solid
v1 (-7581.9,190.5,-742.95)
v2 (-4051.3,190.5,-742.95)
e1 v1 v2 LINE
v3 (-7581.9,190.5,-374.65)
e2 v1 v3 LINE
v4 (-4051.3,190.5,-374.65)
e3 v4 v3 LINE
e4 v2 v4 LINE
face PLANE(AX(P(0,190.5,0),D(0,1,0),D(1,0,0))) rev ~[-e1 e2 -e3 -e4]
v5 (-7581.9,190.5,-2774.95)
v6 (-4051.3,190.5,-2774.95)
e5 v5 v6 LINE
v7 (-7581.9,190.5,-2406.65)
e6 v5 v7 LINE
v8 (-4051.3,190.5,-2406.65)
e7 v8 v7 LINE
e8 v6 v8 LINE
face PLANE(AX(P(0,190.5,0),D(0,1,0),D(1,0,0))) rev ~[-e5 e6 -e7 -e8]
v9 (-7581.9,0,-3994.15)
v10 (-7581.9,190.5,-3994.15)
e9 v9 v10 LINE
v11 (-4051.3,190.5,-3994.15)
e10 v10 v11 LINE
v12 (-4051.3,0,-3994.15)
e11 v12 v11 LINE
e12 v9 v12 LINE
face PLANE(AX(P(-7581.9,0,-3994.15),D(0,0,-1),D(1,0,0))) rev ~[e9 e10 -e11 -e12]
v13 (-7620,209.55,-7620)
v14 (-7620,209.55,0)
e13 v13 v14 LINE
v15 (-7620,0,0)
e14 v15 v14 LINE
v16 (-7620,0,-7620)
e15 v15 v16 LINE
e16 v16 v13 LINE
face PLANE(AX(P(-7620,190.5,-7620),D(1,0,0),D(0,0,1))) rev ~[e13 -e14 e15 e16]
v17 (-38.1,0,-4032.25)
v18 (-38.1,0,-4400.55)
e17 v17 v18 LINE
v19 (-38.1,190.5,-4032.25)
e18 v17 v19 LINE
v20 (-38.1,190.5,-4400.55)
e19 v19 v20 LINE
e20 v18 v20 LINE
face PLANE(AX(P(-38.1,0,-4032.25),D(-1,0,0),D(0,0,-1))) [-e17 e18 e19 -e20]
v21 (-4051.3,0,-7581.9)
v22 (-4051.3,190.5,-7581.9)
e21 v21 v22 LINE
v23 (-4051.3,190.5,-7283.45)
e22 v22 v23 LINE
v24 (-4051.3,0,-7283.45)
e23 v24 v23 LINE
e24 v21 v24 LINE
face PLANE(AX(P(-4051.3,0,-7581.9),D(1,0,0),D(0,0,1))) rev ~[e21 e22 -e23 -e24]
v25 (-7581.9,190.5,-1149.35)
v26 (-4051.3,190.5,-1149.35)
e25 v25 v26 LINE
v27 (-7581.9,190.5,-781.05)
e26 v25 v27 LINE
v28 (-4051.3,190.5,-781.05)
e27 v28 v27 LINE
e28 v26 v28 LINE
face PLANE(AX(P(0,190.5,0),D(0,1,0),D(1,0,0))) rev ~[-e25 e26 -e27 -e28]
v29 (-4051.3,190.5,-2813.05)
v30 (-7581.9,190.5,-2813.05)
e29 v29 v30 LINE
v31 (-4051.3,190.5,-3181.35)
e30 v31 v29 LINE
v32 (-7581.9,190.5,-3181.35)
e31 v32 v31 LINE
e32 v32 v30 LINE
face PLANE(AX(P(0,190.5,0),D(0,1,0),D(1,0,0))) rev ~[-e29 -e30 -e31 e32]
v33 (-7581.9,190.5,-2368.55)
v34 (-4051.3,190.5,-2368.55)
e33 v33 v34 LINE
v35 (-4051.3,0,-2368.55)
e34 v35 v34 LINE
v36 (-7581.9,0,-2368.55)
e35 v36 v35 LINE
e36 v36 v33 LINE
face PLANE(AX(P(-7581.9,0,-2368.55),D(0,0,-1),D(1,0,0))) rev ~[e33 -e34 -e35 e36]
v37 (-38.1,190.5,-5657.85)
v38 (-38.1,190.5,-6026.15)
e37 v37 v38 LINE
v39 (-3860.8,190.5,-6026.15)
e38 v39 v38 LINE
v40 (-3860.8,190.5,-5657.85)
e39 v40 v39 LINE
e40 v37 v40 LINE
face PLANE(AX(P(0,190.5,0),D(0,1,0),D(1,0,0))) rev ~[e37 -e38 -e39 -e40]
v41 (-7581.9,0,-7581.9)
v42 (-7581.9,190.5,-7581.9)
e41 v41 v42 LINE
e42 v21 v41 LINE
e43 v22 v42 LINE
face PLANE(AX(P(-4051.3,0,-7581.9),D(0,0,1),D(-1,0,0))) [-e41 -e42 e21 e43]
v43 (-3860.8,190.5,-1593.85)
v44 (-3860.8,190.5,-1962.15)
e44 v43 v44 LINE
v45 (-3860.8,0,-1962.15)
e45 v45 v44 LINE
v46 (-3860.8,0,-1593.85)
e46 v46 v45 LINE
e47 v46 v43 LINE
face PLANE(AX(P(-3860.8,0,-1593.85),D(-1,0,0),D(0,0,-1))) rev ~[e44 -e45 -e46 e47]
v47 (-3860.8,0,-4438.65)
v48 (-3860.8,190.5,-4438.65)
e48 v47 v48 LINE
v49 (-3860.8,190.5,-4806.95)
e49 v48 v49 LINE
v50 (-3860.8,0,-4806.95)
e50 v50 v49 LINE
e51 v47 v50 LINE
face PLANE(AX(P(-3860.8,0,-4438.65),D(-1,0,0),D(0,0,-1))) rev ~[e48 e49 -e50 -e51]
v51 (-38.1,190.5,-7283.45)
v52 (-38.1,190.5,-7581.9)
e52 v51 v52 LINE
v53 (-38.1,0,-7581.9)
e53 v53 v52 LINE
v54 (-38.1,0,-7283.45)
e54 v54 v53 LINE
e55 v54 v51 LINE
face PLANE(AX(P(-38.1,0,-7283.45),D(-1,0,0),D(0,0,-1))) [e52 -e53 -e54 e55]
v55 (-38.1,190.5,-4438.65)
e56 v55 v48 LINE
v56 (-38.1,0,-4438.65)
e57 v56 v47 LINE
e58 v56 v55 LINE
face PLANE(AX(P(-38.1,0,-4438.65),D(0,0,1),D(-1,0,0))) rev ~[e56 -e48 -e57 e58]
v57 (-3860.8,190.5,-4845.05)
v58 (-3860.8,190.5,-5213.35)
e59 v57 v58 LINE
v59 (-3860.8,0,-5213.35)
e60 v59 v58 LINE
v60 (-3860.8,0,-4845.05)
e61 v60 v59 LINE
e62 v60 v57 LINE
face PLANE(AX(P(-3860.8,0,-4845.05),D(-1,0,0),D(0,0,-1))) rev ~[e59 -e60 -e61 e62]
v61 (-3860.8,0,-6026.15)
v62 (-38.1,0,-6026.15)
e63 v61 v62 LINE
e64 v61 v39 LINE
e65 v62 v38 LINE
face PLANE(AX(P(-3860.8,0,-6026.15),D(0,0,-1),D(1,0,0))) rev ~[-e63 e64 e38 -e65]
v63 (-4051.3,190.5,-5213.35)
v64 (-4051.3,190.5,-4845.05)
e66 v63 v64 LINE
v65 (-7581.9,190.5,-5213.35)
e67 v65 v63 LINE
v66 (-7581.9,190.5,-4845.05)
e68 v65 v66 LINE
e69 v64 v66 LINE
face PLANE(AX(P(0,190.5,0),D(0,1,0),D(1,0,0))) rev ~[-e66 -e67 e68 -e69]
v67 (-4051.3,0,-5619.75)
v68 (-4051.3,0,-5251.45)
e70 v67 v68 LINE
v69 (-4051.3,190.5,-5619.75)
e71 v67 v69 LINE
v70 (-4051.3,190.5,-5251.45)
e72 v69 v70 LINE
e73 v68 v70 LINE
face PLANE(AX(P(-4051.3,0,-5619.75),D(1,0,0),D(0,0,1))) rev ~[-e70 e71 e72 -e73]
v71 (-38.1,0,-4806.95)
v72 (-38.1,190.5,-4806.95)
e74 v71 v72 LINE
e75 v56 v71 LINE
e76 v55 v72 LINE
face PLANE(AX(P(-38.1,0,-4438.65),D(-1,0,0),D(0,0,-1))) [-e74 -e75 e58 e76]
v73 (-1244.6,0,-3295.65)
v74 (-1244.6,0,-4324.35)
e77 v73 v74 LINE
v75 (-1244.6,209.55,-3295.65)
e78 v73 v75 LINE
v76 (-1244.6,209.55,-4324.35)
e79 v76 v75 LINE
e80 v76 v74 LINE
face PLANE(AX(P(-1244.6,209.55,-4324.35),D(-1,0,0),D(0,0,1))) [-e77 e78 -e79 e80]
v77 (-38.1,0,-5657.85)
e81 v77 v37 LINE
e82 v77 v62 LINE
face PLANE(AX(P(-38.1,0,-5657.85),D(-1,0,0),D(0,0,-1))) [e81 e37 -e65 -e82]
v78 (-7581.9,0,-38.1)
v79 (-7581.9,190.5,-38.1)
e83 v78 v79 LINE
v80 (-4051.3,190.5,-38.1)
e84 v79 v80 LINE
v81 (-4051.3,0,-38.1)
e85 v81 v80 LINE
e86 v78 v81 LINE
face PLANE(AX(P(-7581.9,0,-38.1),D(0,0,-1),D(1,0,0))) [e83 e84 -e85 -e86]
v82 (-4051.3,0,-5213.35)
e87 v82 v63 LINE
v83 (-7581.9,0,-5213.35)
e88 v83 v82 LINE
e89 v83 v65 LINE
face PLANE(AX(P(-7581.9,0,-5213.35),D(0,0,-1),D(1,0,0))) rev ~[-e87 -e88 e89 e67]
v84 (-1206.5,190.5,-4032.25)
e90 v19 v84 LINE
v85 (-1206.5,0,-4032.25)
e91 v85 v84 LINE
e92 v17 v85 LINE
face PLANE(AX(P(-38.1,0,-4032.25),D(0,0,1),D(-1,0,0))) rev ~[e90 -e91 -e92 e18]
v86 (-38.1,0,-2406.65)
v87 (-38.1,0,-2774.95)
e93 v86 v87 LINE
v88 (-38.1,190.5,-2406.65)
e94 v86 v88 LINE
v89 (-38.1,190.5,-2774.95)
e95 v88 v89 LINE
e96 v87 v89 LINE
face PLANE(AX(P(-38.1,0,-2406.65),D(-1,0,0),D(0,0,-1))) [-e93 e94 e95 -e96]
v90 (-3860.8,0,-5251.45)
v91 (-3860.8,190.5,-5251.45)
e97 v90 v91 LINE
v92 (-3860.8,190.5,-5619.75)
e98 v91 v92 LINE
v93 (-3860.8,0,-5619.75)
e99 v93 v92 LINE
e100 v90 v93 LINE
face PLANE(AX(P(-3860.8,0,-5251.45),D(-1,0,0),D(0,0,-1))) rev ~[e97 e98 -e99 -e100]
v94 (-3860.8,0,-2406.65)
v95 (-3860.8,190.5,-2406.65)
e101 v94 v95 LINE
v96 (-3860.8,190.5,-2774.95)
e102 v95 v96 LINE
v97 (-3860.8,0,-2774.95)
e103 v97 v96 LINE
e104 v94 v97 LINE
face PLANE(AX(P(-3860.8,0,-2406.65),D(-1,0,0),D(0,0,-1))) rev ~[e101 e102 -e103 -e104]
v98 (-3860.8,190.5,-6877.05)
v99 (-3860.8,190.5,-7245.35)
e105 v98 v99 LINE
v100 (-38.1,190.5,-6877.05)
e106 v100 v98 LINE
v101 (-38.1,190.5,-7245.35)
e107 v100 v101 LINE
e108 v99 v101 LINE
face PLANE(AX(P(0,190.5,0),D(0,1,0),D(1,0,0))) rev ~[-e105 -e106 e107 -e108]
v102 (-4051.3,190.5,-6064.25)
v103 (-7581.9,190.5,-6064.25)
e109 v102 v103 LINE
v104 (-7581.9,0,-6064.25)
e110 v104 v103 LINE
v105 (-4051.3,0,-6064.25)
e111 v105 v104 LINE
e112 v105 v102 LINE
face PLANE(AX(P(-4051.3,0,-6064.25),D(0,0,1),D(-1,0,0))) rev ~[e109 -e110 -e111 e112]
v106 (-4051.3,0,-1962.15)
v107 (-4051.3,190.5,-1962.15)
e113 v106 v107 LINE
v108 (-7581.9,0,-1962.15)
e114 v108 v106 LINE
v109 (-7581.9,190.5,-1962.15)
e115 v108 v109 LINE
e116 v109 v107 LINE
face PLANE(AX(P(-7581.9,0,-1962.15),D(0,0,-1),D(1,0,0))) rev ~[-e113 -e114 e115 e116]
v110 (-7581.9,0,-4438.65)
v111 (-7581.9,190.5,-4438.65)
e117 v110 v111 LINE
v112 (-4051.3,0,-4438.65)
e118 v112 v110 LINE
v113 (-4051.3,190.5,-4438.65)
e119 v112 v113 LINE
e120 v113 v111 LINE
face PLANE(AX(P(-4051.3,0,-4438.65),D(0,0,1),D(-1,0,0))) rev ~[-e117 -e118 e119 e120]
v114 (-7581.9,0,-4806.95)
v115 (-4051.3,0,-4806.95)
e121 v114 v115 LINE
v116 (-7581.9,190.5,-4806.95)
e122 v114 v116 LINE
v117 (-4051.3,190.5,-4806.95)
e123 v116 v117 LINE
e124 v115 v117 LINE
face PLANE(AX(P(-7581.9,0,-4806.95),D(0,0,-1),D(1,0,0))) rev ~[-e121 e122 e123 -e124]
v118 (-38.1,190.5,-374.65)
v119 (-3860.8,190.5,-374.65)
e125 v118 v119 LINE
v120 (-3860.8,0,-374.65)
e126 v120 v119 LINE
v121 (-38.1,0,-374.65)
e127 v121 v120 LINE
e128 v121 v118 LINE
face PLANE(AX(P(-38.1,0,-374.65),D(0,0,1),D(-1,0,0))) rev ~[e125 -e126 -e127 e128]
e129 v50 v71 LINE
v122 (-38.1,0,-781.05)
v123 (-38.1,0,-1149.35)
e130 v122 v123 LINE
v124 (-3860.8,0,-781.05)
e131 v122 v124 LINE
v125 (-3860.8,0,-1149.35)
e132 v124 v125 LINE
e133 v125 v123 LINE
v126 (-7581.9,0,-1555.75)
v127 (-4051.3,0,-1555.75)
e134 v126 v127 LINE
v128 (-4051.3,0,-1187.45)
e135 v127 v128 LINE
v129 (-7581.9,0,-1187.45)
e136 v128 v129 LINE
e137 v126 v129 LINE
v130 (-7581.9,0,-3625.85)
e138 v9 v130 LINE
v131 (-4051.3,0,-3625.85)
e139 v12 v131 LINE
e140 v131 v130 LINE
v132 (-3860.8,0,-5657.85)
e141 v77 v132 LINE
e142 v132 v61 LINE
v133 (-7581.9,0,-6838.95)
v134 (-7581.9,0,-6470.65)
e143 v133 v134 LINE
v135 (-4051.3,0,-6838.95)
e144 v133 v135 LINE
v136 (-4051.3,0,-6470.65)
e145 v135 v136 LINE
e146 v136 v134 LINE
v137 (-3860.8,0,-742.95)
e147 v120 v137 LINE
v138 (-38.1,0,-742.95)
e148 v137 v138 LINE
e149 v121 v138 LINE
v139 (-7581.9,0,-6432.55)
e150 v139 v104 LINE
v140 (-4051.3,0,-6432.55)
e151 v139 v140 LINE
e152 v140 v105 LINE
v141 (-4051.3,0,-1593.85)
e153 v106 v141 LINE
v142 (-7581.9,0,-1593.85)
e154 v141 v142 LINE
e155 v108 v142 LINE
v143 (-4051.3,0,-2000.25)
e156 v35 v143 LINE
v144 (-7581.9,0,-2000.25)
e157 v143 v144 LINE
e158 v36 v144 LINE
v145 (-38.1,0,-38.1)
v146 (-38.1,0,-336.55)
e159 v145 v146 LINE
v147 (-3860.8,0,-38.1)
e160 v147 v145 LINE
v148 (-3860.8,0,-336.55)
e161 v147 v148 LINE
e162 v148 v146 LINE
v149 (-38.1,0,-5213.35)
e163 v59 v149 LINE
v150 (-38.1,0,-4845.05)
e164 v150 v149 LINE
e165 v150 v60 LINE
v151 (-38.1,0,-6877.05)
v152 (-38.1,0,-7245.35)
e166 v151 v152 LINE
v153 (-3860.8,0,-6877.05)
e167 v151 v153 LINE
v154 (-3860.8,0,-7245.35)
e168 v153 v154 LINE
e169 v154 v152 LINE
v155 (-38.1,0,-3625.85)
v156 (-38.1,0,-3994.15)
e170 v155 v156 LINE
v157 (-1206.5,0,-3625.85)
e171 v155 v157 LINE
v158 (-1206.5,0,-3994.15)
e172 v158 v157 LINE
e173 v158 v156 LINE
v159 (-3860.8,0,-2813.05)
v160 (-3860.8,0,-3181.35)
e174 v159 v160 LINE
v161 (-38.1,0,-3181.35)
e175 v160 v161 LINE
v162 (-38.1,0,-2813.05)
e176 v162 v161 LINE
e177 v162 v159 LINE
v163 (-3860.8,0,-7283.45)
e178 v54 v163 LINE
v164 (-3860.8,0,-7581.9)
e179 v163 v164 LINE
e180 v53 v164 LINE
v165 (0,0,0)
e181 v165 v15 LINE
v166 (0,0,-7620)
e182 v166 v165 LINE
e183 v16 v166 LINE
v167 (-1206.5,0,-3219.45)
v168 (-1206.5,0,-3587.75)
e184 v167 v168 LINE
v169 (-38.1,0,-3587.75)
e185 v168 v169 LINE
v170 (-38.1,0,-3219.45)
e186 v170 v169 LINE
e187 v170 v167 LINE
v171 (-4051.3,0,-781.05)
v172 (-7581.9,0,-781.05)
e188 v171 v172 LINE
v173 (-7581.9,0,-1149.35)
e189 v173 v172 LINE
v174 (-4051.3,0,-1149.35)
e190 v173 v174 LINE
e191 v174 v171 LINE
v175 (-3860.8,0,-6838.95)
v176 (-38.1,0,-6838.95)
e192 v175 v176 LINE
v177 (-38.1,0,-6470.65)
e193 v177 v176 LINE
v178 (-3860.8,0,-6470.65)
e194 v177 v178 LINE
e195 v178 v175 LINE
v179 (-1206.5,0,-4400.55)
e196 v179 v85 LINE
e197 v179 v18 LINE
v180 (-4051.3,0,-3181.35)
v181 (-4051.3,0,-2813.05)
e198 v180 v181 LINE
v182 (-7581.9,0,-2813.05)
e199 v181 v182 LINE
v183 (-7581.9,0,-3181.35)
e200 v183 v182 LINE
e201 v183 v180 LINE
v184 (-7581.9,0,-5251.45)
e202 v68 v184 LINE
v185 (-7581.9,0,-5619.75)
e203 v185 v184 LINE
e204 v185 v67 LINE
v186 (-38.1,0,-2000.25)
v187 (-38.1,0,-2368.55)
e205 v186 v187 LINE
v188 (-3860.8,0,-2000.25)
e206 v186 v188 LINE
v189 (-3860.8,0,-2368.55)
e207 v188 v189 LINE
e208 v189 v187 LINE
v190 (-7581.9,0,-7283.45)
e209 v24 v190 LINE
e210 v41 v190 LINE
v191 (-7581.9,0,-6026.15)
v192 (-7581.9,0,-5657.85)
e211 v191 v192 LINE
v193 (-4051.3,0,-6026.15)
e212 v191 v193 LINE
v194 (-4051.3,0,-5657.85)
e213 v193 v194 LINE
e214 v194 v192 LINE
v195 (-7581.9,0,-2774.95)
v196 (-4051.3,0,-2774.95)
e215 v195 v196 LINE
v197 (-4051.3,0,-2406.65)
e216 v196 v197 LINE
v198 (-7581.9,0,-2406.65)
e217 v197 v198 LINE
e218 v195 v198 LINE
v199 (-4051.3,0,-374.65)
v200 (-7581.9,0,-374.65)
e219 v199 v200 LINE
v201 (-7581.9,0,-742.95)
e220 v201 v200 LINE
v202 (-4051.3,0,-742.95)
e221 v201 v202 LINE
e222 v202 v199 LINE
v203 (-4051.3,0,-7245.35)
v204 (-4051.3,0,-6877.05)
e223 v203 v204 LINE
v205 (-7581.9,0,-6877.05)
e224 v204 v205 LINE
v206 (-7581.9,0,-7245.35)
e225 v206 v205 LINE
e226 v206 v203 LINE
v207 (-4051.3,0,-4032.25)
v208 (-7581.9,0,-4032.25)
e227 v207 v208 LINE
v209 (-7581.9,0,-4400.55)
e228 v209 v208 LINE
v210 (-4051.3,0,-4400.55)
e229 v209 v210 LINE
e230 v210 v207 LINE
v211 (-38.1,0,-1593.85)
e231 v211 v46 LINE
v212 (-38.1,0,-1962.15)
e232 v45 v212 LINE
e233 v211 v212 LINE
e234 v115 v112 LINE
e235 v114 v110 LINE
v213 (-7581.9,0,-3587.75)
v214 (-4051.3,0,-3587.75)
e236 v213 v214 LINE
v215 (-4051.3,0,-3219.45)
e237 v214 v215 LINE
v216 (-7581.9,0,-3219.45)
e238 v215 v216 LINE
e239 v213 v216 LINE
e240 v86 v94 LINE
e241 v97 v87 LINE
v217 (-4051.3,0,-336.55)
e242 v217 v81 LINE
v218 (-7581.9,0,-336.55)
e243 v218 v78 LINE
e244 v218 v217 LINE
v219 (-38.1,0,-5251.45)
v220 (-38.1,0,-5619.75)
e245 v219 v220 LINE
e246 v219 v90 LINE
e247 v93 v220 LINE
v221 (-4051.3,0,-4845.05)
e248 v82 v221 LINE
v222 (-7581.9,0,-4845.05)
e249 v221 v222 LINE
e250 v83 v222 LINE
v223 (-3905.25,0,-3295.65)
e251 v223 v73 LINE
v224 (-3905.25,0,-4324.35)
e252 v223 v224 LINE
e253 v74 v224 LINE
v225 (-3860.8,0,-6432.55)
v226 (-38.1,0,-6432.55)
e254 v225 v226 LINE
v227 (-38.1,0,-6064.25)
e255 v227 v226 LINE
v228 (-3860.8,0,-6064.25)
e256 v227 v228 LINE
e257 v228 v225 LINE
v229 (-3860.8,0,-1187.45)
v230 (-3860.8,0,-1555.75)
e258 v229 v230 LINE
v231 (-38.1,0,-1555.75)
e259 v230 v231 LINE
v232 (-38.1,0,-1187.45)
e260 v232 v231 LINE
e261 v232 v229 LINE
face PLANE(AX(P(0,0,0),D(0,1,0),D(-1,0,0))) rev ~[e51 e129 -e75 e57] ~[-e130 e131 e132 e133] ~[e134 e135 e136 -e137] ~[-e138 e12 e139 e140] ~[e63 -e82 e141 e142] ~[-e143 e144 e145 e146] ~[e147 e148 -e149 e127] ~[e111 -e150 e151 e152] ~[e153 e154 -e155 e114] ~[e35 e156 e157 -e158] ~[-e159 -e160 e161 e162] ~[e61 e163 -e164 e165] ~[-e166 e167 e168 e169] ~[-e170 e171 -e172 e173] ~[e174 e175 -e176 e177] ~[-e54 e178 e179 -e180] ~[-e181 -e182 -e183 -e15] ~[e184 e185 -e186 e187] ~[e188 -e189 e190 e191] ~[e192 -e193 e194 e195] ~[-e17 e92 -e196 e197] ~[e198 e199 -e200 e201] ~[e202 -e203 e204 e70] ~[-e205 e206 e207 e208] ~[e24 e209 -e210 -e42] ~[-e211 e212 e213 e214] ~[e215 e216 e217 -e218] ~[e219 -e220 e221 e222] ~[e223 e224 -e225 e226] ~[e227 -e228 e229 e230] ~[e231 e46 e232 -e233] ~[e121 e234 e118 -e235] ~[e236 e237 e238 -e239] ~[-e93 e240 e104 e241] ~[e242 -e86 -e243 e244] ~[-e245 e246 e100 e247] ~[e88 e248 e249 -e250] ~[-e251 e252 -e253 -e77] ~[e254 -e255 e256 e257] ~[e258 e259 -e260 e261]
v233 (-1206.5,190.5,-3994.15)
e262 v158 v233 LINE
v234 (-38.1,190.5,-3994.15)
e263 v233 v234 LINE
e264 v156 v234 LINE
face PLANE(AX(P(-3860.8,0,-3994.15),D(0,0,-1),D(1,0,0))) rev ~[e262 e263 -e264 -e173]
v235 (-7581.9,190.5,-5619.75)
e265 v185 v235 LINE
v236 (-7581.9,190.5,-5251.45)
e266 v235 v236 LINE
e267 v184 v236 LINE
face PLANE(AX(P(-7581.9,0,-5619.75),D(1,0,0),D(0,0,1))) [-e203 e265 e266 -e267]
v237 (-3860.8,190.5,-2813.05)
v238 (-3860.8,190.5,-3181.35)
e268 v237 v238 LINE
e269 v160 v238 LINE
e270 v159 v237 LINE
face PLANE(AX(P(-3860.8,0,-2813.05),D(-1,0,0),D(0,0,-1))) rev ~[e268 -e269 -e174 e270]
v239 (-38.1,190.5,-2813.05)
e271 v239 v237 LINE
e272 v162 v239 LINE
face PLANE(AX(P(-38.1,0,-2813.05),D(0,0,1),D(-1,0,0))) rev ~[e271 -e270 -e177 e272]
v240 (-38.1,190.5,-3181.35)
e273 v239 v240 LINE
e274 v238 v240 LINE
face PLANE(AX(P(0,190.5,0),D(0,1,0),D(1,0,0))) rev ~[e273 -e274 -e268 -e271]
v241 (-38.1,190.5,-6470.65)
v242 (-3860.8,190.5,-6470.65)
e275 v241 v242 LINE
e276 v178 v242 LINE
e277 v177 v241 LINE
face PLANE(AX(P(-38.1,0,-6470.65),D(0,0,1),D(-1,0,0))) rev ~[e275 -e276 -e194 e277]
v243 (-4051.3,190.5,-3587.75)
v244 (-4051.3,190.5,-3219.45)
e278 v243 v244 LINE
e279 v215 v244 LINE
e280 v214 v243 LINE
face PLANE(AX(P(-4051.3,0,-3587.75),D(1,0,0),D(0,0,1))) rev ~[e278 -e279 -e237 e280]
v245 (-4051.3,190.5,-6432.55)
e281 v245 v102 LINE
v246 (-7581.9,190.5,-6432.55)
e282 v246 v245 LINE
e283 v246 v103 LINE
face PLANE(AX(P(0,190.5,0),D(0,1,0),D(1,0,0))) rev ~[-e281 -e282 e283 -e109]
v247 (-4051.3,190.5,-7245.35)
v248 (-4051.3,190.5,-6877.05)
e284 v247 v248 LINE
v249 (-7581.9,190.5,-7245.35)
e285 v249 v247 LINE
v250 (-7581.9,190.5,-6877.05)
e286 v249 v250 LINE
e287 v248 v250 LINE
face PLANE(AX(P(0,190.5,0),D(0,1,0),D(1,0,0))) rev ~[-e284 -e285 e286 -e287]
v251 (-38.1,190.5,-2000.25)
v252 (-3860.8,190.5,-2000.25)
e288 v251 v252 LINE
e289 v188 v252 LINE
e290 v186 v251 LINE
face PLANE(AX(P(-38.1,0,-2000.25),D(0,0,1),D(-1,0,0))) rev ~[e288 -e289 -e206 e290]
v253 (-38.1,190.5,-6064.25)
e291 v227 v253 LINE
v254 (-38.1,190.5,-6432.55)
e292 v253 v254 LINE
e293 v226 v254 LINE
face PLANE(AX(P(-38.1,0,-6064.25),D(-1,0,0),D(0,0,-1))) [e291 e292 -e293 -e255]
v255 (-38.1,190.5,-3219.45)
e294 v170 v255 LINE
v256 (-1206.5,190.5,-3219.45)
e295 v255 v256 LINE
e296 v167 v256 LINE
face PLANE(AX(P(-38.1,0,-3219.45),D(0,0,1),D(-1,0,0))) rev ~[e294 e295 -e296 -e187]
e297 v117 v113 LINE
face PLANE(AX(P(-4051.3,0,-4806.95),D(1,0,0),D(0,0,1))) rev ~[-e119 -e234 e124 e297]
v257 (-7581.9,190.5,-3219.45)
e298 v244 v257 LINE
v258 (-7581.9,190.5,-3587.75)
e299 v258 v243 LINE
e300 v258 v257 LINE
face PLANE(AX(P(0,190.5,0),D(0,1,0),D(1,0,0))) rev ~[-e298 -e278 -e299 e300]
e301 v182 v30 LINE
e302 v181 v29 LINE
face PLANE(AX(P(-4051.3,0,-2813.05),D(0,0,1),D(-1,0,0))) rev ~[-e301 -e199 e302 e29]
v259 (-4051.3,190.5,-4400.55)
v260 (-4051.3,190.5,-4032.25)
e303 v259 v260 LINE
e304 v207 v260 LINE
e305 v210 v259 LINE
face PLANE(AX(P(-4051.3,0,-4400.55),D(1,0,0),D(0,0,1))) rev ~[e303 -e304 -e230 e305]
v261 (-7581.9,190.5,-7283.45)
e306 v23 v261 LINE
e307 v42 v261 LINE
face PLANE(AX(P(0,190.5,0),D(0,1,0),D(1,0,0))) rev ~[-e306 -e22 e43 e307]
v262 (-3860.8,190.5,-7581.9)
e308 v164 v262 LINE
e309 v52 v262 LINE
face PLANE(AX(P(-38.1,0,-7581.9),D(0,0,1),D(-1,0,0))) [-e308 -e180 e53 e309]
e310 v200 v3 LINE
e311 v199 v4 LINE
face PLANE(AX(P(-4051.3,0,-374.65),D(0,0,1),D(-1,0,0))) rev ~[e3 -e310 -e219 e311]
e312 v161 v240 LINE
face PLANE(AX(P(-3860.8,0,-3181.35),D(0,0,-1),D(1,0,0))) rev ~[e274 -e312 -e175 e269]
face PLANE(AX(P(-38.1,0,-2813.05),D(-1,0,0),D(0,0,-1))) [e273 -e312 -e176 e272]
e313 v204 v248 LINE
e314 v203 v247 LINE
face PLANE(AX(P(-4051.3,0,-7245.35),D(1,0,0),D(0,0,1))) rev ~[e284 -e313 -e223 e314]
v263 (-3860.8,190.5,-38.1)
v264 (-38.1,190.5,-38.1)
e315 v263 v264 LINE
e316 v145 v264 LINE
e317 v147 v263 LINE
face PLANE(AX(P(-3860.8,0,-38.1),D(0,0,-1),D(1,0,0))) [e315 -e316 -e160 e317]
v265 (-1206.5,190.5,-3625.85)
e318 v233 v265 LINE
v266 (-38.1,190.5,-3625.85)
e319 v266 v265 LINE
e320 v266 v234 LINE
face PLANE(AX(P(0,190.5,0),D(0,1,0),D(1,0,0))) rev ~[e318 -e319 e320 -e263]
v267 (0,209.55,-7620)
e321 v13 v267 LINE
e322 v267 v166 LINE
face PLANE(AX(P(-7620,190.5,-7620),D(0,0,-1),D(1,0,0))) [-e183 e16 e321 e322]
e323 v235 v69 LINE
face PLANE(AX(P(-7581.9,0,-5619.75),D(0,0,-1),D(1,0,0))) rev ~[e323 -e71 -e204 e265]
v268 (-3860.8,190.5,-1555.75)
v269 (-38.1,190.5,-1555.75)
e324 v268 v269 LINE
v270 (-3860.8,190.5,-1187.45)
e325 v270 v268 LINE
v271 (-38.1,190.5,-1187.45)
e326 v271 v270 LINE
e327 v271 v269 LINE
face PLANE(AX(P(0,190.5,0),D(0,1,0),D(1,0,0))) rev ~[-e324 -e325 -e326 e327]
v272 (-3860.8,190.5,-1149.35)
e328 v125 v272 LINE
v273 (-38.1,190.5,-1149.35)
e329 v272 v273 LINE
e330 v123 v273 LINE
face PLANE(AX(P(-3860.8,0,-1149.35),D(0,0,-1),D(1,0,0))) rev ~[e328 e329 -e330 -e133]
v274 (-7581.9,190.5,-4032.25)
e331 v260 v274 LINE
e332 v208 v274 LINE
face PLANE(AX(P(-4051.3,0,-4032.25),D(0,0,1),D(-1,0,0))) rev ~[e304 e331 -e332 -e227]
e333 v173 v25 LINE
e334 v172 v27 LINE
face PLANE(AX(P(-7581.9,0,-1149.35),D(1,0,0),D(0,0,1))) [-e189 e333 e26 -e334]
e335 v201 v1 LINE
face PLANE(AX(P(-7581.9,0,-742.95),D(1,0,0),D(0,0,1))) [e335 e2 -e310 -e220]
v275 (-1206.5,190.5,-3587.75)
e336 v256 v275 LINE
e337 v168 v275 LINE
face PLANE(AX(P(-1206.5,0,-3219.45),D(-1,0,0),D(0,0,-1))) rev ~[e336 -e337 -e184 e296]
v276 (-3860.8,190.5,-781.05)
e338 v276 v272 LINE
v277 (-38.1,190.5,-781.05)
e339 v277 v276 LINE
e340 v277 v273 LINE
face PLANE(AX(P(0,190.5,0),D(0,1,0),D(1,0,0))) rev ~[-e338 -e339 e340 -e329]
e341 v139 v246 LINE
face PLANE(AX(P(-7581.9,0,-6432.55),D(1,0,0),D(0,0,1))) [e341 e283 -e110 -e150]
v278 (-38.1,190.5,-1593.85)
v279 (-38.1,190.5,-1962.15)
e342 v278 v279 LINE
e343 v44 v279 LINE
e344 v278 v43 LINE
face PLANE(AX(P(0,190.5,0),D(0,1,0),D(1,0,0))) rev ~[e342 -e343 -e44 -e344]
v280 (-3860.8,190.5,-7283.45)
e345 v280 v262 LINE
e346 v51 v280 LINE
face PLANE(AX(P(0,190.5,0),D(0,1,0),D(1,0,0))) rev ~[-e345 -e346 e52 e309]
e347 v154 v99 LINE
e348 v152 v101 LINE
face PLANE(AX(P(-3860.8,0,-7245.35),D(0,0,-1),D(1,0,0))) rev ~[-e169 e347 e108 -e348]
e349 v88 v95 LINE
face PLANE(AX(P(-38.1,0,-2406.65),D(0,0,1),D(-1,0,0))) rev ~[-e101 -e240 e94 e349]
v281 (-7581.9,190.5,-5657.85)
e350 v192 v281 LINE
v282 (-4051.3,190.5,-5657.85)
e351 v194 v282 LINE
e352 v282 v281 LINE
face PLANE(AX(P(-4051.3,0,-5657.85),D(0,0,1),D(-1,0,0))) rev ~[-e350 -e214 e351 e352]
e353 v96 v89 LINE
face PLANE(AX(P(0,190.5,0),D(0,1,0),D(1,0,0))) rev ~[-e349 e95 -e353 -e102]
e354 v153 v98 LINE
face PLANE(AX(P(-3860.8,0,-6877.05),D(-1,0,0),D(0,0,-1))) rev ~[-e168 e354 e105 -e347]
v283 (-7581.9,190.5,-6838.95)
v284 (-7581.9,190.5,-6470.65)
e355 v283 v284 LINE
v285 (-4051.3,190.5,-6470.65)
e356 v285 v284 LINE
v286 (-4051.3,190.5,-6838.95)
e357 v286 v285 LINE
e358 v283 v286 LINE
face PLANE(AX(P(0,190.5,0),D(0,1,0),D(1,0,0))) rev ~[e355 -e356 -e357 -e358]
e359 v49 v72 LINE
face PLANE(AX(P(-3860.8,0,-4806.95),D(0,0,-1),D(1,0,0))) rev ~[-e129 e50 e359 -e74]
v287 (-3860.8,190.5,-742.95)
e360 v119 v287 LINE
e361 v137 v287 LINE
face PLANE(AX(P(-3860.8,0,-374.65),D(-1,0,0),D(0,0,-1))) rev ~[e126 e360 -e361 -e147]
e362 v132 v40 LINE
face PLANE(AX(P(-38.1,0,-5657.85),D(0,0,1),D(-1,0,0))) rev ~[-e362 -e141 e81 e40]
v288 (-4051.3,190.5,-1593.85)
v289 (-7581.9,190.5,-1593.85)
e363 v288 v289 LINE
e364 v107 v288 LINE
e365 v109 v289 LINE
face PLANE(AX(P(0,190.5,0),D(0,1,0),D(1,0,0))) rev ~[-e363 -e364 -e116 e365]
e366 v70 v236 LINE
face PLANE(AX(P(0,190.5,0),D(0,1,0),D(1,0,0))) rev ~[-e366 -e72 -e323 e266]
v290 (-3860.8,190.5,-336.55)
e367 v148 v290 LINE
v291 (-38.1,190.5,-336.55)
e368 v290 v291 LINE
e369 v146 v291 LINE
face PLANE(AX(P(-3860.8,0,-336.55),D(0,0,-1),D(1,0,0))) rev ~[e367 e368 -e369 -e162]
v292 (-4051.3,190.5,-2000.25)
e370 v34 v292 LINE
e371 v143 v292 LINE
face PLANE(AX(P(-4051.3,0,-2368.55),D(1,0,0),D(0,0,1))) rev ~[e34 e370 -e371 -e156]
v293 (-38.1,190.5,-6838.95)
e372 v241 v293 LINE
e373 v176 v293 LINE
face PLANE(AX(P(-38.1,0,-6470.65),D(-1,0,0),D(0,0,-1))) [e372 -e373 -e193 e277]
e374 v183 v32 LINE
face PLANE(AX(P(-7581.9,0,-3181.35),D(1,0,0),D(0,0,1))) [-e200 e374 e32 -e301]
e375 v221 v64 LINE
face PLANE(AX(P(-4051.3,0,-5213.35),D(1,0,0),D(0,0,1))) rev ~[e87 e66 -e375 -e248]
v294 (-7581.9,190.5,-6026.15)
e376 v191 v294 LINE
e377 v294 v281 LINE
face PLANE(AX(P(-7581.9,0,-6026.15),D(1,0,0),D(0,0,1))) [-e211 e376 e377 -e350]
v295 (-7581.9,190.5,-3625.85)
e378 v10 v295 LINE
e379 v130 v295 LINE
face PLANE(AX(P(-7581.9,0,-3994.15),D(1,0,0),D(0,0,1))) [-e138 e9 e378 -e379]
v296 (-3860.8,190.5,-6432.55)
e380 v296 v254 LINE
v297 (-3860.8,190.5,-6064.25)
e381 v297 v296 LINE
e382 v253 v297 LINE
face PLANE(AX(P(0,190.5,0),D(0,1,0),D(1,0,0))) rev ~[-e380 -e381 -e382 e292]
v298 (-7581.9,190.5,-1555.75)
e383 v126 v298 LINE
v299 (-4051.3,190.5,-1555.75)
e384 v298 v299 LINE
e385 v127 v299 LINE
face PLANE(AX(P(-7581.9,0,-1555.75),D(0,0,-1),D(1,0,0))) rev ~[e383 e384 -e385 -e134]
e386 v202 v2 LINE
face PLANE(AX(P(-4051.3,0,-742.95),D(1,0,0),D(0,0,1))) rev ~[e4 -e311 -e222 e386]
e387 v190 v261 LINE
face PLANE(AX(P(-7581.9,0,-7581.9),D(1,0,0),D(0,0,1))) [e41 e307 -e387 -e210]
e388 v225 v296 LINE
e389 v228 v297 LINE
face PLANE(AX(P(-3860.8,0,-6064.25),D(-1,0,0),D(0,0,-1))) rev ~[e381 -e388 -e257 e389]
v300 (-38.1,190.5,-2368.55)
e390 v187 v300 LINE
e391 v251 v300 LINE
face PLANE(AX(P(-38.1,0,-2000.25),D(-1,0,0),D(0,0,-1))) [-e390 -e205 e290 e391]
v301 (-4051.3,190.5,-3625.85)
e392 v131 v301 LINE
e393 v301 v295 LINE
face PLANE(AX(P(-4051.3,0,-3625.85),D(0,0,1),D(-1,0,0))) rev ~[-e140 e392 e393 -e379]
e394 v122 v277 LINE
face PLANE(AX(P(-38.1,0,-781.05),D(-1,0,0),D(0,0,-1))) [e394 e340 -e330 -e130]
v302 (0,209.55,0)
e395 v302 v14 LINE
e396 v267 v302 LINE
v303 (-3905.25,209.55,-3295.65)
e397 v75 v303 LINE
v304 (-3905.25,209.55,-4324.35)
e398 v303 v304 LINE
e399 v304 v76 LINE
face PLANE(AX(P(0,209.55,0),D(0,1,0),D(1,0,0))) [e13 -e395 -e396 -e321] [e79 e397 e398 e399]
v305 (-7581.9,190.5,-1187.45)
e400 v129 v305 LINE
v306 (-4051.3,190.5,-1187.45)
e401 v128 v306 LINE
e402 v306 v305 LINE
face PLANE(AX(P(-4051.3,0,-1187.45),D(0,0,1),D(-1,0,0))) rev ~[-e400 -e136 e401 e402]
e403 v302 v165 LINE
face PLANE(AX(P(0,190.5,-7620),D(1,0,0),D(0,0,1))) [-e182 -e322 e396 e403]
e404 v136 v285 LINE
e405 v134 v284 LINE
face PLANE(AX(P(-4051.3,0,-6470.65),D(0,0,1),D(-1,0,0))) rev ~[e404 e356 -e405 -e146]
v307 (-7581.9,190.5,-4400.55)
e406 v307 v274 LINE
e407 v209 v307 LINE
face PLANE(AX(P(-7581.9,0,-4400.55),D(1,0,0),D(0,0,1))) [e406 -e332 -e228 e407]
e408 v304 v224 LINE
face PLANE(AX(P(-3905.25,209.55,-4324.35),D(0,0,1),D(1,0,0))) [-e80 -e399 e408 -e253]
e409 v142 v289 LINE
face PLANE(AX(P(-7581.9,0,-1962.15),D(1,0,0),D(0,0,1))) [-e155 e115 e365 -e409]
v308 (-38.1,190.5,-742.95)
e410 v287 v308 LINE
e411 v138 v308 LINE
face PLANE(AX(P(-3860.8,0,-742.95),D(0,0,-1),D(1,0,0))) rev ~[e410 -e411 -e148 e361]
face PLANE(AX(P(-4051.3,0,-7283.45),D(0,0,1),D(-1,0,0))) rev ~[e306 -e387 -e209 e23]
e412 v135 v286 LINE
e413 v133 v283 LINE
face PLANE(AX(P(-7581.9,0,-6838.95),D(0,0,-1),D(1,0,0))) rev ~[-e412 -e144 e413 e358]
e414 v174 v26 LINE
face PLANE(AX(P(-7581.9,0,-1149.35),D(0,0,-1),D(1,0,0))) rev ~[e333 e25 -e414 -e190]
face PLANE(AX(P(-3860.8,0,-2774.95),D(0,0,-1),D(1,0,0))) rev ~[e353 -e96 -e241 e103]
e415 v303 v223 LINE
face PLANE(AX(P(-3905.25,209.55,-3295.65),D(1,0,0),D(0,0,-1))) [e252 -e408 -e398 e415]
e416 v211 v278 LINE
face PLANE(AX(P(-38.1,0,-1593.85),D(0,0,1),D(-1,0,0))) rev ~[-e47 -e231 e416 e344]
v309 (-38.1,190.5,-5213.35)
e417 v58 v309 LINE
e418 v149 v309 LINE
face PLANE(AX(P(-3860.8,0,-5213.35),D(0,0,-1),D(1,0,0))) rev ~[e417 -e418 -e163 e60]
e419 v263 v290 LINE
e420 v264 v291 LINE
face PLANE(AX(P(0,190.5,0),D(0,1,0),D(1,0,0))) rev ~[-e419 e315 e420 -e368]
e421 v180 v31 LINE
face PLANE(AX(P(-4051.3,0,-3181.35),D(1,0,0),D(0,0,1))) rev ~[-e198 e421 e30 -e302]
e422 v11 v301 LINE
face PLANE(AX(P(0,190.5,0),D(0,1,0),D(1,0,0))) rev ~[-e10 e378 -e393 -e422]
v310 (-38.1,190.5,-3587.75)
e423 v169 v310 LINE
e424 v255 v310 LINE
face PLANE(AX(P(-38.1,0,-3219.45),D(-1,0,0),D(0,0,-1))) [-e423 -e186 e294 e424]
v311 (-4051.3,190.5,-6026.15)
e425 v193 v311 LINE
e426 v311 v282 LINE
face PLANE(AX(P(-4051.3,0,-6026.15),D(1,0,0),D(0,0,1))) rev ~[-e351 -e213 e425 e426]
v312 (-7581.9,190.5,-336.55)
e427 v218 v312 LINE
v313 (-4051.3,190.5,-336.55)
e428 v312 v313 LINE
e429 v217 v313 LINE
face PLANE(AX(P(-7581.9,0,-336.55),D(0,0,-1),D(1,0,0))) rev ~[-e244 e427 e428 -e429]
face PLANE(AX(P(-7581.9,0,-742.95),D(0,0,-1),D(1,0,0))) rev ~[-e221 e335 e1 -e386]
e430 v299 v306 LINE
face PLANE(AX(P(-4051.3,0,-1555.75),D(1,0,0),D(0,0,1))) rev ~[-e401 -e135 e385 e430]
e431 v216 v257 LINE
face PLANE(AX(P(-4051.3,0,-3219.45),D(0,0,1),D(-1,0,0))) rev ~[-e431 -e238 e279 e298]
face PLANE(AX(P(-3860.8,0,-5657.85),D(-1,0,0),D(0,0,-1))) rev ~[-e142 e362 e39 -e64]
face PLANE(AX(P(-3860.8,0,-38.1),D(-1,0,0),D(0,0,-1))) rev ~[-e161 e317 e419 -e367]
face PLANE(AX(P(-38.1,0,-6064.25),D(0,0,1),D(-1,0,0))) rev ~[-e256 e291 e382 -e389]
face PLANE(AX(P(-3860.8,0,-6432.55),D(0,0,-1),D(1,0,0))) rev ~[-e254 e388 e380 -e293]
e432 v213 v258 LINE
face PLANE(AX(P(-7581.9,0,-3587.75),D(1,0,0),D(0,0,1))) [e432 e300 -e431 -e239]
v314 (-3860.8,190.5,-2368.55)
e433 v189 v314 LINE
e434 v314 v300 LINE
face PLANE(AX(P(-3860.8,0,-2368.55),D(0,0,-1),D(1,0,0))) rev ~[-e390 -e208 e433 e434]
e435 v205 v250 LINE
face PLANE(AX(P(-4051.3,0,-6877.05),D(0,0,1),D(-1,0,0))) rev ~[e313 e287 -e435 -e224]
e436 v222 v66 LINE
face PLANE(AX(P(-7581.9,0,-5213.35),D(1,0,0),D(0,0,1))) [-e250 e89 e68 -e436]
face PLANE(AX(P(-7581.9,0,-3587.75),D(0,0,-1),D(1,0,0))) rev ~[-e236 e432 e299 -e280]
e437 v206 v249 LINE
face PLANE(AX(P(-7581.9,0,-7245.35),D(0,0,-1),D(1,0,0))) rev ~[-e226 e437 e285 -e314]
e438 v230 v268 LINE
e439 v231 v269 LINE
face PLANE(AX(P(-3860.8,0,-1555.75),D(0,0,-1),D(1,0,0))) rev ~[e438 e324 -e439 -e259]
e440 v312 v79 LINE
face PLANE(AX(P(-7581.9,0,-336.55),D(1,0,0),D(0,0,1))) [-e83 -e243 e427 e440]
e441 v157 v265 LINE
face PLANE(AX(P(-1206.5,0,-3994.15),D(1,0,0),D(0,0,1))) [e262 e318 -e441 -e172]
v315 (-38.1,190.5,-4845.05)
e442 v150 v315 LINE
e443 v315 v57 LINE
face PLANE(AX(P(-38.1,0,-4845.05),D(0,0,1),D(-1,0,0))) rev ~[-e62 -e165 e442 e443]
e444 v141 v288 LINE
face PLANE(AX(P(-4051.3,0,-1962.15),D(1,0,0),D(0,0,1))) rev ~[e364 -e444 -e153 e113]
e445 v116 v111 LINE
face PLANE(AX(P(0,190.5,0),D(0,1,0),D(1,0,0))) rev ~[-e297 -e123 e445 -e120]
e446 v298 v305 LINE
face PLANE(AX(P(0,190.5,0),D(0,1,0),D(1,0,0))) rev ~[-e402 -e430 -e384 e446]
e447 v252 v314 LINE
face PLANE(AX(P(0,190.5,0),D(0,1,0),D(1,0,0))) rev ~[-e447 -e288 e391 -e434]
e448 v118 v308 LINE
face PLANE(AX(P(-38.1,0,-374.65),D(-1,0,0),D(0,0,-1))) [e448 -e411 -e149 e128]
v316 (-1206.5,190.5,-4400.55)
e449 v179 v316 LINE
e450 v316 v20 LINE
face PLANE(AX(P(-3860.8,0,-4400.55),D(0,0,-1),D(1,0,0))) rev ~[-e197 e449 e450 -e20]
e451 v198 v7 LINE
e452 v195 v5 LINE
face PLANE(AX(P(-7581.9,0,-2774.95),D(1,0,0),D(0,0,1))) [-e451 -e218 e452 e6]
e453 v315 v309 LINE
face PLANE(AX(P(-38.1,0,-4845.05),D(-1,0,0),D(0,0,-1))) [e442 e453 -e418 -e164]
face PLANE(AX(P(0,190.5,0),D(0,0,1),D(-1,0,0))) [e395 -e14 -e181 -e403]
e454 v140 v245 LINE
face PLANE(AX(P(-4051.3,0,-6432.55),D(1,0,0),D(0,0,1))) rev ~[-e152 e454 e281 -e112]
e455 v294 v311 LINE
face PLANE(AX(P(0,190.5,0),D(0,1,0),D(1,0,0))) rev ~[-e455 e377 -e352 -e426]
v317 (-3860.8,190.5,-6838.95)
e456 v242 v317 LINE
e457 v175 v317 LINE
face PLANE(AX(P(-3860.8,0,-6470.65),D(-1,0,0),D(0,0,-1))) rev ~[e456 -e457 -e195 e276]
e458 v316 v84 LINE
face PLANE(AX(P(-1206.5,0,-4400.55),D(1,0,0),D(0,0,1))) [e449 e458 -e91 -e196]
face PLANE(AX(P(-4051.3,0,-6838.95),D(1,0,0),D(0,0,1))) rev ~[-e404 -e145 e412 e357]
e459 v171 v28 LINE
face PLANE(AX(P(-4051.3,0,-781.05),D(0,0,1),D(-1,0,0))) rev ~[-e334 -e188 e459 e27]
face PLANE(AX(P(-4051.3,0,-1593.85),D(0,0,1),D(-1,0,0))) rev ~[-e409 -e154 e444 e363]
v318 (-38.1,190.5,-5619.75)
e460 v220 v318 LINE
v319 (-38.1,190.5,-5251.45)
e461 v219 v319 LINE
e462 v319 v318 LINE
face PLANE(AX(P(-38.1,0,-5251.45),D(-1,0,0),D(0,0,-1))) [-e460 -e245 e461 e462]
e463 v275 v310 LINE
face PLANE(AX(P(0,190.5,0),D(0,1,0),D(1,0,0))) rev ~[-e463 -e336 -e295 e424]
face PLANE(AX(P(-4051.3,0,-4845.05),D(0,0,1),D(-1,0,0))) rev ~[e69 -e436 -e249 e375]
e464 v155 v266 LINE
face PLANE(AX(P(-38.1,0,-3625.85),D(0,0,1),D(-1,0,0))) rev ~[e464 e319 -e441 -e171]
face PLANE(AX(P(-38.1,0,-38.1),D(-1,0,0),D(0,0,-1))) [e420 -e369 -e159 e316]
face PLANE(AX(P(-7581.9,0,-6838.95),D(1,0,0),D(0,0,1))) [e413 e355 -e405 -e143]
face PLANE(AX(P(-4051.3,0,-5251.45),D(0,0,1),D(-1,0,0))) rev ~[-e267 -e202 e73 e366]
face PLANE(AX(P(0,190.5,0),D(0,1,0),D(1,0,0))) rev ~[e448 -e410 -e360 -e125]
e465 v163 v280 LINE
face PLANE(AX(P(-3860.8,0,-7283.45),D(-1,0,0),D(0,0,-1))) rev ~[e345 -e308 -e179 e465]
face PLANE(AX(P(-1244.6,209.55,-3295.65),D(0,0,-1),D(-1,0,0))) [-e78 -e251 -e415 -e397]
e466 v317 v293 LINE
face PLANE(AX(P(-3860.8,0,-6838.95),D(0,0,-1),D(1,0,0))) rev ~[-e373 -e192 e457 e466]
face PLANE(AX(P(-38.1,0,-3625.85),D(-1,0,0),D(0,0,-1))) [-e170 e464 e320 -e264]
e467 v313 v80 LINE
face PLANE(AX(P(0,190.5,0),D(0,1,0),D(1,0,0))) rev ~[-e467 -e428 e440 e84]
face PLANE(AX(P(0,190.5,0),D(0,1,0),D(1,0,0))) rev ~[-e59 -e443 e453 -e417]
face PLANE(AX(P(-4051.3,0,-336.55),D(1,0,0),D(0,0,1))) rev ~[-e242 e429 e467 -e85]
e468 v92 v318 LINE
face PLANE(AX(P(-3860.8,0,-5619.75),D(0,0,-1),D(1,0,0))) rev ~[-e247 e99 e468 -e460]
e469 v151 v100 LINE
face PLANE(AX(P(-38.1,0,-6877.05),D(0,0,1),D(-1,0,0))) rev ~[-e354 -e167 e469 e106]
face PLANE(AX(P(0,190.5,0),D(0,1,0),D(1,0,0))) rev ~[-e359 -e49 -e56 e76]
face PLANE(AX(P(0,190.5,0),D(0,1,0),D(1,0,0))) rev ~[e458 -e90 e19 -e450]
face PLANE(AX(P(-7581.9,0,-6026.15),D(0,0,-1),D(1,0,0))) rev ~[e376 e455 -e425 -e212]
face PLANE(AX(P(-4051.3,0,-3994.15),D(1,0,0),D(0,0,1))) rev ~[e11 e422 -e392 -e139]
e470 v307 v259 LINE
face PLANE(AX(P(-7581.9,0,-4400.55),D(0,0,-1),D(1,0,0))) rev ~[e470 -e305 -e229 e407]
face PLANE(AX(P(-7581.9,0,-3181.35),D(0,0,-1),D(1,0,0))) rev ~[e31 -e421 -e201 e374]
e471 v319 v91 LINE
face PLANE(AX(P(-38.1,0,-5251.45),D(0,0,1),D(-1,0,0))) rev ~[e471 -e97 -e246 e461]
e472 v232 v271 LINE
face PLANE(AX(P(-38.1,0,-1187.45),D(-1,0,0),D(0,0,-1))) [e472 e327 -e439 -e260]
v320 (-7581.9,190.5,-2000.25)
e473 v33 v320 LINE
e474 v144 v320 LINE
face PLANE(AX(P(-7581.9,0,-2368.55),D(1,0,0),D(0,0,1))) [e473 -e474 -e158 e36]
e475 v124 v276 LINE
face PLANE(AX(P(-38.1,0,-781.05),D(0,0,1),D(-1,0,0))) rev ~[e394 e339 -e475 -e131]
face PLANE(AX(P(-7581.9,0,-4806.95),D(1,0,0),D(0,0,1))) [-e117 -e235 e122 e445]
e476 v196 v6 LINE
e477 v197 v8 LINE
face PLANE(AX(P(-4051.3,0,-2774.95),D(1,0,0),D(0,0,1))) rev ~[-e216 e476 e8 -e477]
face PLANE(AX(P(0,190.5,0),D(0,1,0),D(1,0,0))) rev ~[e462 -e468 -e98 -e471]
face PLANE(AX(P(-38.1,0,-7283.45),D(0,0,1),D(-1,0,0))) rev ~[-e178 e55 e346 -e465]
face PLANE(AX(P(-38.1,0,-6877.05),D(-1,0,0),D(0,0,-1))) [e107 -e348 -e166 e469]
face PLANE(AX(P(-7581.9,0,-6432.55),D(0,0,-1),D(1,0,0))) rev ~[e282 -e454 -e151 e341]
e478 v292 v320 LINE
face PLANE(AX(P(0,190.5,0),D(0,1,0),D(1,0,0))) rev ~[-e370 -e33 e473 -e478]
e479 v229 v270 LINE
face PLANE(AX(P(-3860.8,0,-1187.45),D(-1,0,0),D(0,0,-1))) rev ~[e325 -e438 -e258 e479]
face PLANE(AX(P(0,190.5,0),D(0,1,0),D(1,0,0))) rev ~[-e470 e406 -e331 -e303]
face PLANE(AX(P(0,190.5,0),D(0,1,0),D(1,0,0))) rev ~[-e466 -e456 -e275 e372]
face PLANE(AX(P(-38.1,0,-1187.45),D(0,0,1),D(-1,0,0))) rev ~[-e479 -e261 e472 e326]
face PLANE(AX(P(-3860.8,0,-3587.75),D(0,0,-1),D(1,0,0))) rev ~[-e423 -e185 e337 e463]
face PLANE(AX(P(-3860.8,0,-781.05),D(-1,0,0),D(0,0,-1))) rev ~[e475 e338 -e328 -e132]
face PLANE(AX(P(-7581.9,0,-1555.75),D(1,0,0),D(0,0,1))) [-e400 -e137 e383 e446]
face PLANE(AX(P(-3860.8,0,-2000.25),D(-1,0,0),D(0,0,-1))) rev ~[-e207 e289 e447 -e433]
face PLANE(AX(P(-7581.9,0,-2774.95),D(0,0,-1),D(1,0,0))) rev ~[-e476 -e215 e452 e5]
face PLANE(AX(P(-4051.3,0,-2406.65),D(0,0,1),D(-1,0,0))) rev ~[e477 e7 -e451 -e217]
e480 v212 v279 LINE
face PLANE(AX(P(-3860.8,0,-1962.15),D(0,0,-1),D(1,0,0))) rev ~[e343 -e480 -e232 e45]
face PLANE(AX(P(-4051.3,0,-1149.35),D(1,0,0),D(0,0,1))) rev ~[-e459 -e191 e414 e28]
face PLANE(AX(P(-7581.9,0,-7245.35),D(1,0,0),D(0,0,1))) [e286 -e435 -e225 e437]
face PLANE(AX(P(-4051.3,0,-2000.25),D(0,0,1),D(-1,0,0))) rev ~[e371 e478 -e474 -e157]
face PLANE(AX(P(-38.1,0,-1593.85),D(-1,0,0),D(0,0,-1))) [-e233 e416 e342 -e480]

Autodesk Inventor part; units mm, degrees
ref_plane "YZ Plane" through (0, 0, 0) normal (1, 0, 0) x (0, 1, 0)
ref_plane "XZ Plane" through (0, 0, 0) normal (0, 1, 0) x (-1, 0, 0)
ref_plane "XY Plane" through (0, 0, 0) normal (0, 0, 1) x (1, 0, 0)
sketch "Sketch1" plane through (0, 0, 0) normal (0, 1, 0) x (-1, 0, 0)
  line L0 (0, 0) -> (7620, 0)
  line L1 (7620, 0) -> (7620, -7620)
  line L2 (7620, -7620) -> (0, -7620)
  line L3 (0, -7620) -> (0, 0)
  line L4 (7581.9, -7581.9) -> (7581.9, -38.1)
  line L5 (7581.9, -38.1) -> (38.1, -38.1)
  line L6 (38.1, -38.1) -> (38.1, -7581.9)
  line L7 (38.1, -7581.9) -> (7581.9, -7581.9)
  line L8 (4051.3, -7581.9) -> (4051.3, -38.1)
  line L9 (3860.8, -38.1) -> (3860.8, -7581.9)
  line L10 (7581.9, -336.55) -> (38.1, -336.55)
  line L11 (38.1, -336.55) -> (38.1, -374.65)
  line L12 (38.1, -374.65) -> (7581.9, -374.65)
  line L13 (7581.9, -374.65) -> (7581.9, -336.55)
  line L14 (7581.9, -742.95) -> (38.1, -742.95)
  line L15 (38.1, -781.05) -> (7581.9, -781.05)
  line L16 (7581.9, -781.05) -> (7581.9, -742.95)
  line L17 (38.1, -742.95) -> (38.1, -781.05)
  line L18 (7581.9, -1149.35) -> (38.1, -1149.35)
  line L19 (38.1, -1187.45) -> (7581.9, -1187.45)
  line L20 (7581.9, -1187.45) -> (7581.9, -1149.35)
  line L21 (38.1, -1149.35) -> (38.1, -1187.45)
  line L22 (7581.9, -1555.75) -> (38.1, -1555.75)
  line L23 (38.1, -1593.85) -> (7581.9, -1593.85)
  line L24 (7581.9, -1593.85) -> (7581.9, -1555.75)
  line L25 (38.1, -1555.75) -> (38.1, -1593.85)
  line L26 (7581.9, -1962.15) -> (38.1, -1962.15)
  line L27 (38.1, -2000.25) -> (7581.9, -2000.25)
  line L28 (7581.9, -2000.25) -> (7581.9, -1962.15)
  line L29 (38.1, -1962.15) -> (38.1, -2000.25)
  line L30 (7581.9, -2368.55) -> (38.1, -2368.55)
  line L31 (38.1, -2406.65) -> (7581.9, -2406.65)
  line L32 (7581.9, -2406.65) -> (7581.9, -2368.55)
  line L33 (38.1, -2368.55) -> (38.1, -2406.65)
  line L34 (7581.9, -2774.95) -> (38.1, -2774.95)
  line L35 (38.1, -2813.05) -> (7581.9, -2813.05)
  line L36 (7581.9, -2813.05) -> (7581.9, -2774.95)
  line L37 (38.1, -2774.95) -> (38.1, -2813.05)
  line L38 (7581.9, -3181.35) -> (38.1, -3181.35)
  line L39 (38.1, -3219.45) -> (7581.9, -3219.45)
  line L40 (7581.9, -3219.45) -> (7581.9, -3181.35)
  line L41 (38.1, -3181.35) -> (38.1, -3219.45)
  line L42 (7581.9, -3587.75) -> (38.1, -3587.75)
  line L43 (38.1, -3625.85) -> (7581.9, -3625.85)
  line L44 (7581.9, -3625.85) -> (7581.9, -3587.75)
  line L45 (38.1, -3587.75) -> (38.1, -3625.85)
  line L46 (7581.9, -3994.15) -> (38.1, -3994.15)
  line L47 (38.1, -4032.25) -> (7581.9, -4032.25)
  line L48 (7581.9, -4032.25) -> (7581.9, -3994.15)
  line L49 (38.1, -3994.15) -> (38.1, -4032.25)
  line L50 (7581.9, -4400.55) -> (38.1, -4400.55)
  line L51 (38.1, -4438.65) -> (7581.9, -4438.65)
  line L52 (7581.9, -4438.65) -> (7581.9, -4400.55)
  line L53 (38.1, -4400.55) -> (38.1, -4438.65)
  line L54 (7581.9, -4806.95) -> (38.1, -4806.95)
  line L55 (38.1, -4845.05) -> (7581.9, -4845.05)
  line L56 (7581.9, -4845.05) -> (7581.9, -4806.95)
  line L57 (38.1, -4806.95) -> (38.1, -4845.05)
  line L58 (7581.9, -5213.35) -> (38.1, -5213.35)
  line L59 (38.1, -5251.45) -> (7581.9, -5251.45)
  line L60 (7581.9, -5251.45) -> (7581.9, -5213.35)
  line L61 (38.1, -5213.35) -> (38.1, -5251.45)
  line L62 (7581.9, -5619.75) -> (38.1, -5619.75)
  line L63 (38.1, -5657.85) -> (7581.9, -5657.85)
  line L64 (7581.9, -5657.85) -> (7581.9, -5619.75)
  line L65 (38.1, -5619.75) -> (38.1, -5657.85)
  line L66 (7581.9, -6026.15) -> (38.1, -6026.15)
  line L67 (38.1, -6064.25) -> (7581.9, -6064.25)
  line L68 (7581.9, -6064.25) -> (7581.9, -6026.15)
  line L69 (38.1, -6026.15) -> (38.1, -6064.25)
  line L70 (7581.9, -6432.55) -> (38.1, -6432.55)
  line L71 (38.1, -6470.65) -> (7581.9, -6470.65)
  line L72 (7581.9, -6470.65) -> (7581.9, -6432.55)
  line L73 (38.1, -6432.55) -> (38.1, -6470.65)
  line L74 (7581.9, -6838.95) -> (38.1, -6838.95)
  line L75 (38.1, -6877.05) -> (7581.9, -6877.05)
  line L76 (7581.9, -6877.05) -> (7581.9, -6838.95)
  line L77 (38.1, -6838.95) -> (38.1, -6877.05)
  line L78 (7581.9, -7245.35) -> (38.1, -7245.35)
  line L79 (38.1, -7283.45) -> (7581.9, -7283.45)
  line L80 (7581.9, -7283.45) -> (7581.9, -7245.35)
  line L81 (38.1, -7245.35) -> (38.1, -7283.45)
  point P0 (38.1, -7245.35)
  point P1 (38.1, -6838.95)
  point P2 (38.1, -6432.55)
  point P3 (38.1, -6026.15)
  point P4 (38.1, -5619.75)
  point P5 (38.1, -5213.35)
  point P6 (38.1, -4806.95)
  point P7 (38.1, -4400.55)
  point P8 (38.1, -3994.15)
  point P9 (38.1, -3587.75)
  point P10 (38.1, -3181.35)
  point P11 (38.1, -2774.95)
  point P12 (38.1, -2368.55)
  point P13 (38.1, -1962.15)
  point P14 (38.1, -1555.75)
  point P15 (38.1, -1149.35)
  point P16 (38.1, -742.95)
  point P17 (38.1, -336.55)
  point P18 (4051.3, -7283.45)
  point P19 (3860.8, -7283.45)
  point P20 (3860.8, -7245.35)
  point P21 (4051.3, -7245.35)
  point P22 (4051.3, -6877.05)
  point P23 (3860.8, -6877.05)
  point P24 (3860.8, -6838.95)
  point P25 (4051.3, -6838.95)
  point P26 (4051.3, -6470.65)
  point P27 (3860.8, -6470.65)
  point P28 (3860.8, -6432.55)
  point P29 (4051.3, -6432.55)
  point P30 (4051.3, -6064.25)
  point P31 (3860.8, -6064.25)
  point P32 (3860.8, -6026.15)
  point P33 (4051.3, -6026.15)
  point P34 (4051.3, -5657.85)
  point P35 (3860.8, -5657.85)
  point P36 (3860.8, -5619.75)
  point P37 (4051.3, -5619.75)
  point P38 (4051.3, -5251.45)
  point P39 (3860.8, -5251.45)
  point P40 (3860.8, -5213.35)
  point P41 (4051.3, -5213.35)
  point P42 (4051.3, -4845.05)
  point P43 (3860.8, -4845.05)
  point P44 (3860.8, -4806.95)
  point P45 (4051.3, -4806.95)
  point P46 (4051.3, -4438.65)
  point P47 (3860.8, -4438.65)
  point P48 (3860.8, -4400.55)
  point P49 (4051.3, -4400.55)
  point P50 (4051.3, -4032.25)
  point P51 (3860.8, -4032.25)
  point P52 (3860.8, -3994.15)
  point P53 (4051.3, -3994.15)
  point P54 (4051.3, -3625.85)
  point P55 (3860.8, -3625.85)
  point P56 (3860.8, -3587.75)
  point P57 (4051.3, -3587.75)
  point P58 (4051.3, -3219.45)
  point P59 (3860.8, -3219.45)
  point P60 (3860.8, -3181.35)
  point P61 (4051.3, -3181.35)
  point P62 (4051.3, -2813.05)
  point P63 (3860.8, -2813.05)
  point P64 (3860.8, -2774.95)
  point P65 (4051.3, -2774.95)
  point P66 (4051.3, -2406.65)
  point P67 (3860.8, -2406.65)
  point P68 (3860.8, -2368.55)
  point P69 (4051.3, -2368.55)
  point P70 (4051.3, -2000.25)
  point P71 (3860.8, -2000.25)
  point P72 (3860.8, -1962.15)
  point P73 (4051.3, -1962.15)
  point P74 (4051.3, -1593.85)
  point P75 (3860.8, -1593.85)
  point P76 (3860.8, -1555.75)
  point P77 (4051.3, -1555.75)
  point P78 (4051.3, -1187.45)
  point P79 (3860.8, -1187.45)
  point P80 (3860.8, -1149.35)
  point P81 (4051.3, -1149.35)
  point P82 (4051.3, -781.05)
  point P83 (3860.8, -781.05)
  point P84 (3860.8, -742.95)
  point P85 (4051.3, -742.95)
  point P86 (4051.3, -374.65)
  point P87 (3860.8, -374.65)
  point P88 (3860.8, -336.55)
  point P89 (4051.3, -336.55)
  dimension "d10" = 190.5
  dimension "d1" = 7620
  dimension "d3" = 7620
  dimension "d9" = 38.1
  dimension "d11" = 3568.7
  dimension "d12" = 38.1
  dimension "d13" = 336.55
  dimension "d16" = 406.4
  dimension "d21" = 336.55
extrude "Extrusion1" add sketch "Sketch1" along normal blind 190.5 contours L0 L1 L2 L3 | L79 L8 L78 L4 | L7 L9 L79 L8 | L79 L9 L78 L8 | L75 L8 L74 L4 | L78 L9 L75 L8 | L79 L6 L78 L9 | L75 L9 L74 L8 | L71 L8 L70 L4 | L74 L9 L71 L8 | L75 L6 L74 L9 | L71 L9 L70 L8 | L67 L8 L66 L4 | L70 L9 L67 L8 | L71 L6 L70 L9 | L67 L9 L66 L8 | L63 L8 L62 L4 | L66 L9 L63 L8 | L67 L6 L66 L9 | L63 L9 L62 L8 | L59 L8 L58 L4 | L62 L9 L59 L8 | L63 L6 L62 L9 | L59 L9 L58 L8 | L55 L8 L54 L4 | L58 L9 L55 L8 | L59 L6 L58 L9 | L55 L9 L54 L8 | L51 L8 L50 L4 | L54 L9 L51 L8 | L55 L6 L54 L9 | L51 L9 L50 L8 | L47 L8 L46 L4 | L50 L9 L47 L8 | L51 L6 L50 L9 | L47 L9 L46 L8 | L43 L8 L42 L4 | L46 L9 L43 L8 | L47 L6 L46 L9 | L43 L9 L42 L8 | L39 L8 L38 L4 | L42 L9 L39 L8 | L43 L6 L42 L9 | L39 L9 L38 L8 | L35 L8 L34 L4 | L38 L9 L35 L8 | L39 L6 L38 L9 | L35 L9 L34 L8 | L31 L8 L30 L4 | L34 L9 L31 L8 | L35 L6 L34 L9 | L31 L9 L30 L8 | L27 L8 L26 L4 | L30 L9 L27 L8 | L31 L6 L30 L9 | L27 L9 L26 L8 | L23 L8 L22 L4 | L26 L9 L23 L8 | L27 L6 L26 L9 | L23 L9 L22 L8 | L19 L8 L18 L4 | L22 L9 L19 L8 | L23 L6 L22 L9 | L19 L9 L18 L8 | L15 L8 L14 L4 | L18 L9 L15 L8 | L19 L6 L18 L9 | L15 L9 L14 L8 | L12 L8 L10 L4 | L14 L9 L12 L8 | L15 L6 L14 L9 | L12 L9 L10 L8 | L10 L9 L5 L8 | L12 L6 L10 L9
sketch "Sketch2" plane through (0, 190.5, 0) normal (0, 1, 0) x (1, 0, 0)
  line L0 (-7620, 7620) -> (-7620, 0) projected
  line L1 (-7620, 7620) -> (0, 7620)
  line L2 (0, 7620) -> (0, 0)
  line L3 (0, 0) -> (-7620, 0)
  line L4 (-7620, 0) -> (-7620, 7620)
extrude "Extrusion2" add sketch "Sketch2" along normal blind 19.05
sketch "Sketch4" plane through (0, 209.55, 0) normal (0, 1, 0) x (1, 0, 0)
  line L0 (-1244.6, 3295.65) -> (-3905.25, 3295.65)
  line L1 (-3905.25, 3295.65) -> (-3905.25, 4324.35)
  line L2 (-3905.25, 4324.35) -> (-1244.6, 4324.35)
  line L3 (-1244.6, 4324.35) -> (-1244.6, 3295.65)
  line L4 (0, 0) -> (0, 7620) projected
  line L5 (-7620, 0) -> (0, 0) projected
  point P0 (-1244.6, 3810)
  dimension "d32" = 2660.65
  dimension "d33" = 3295.65
  dimension "d34" = 1028.7
  dimension "d45" = 3905.25
extrude "Extrusion4" cut sketch "Sketch4" against normal through all
sketch "Sketch8" plane through (0, 0, 0) normal (0, -1, 0) x (1, 0, 0)
  line L0 (-1244.6, -3587.75) -> (-38.1, -3587.75) projected
  line L1 (-1206.5, -3587.75) -> (-1244.6, -3587.75)
  line L2 (-1244.6, -3587.75) -> (-1244.6, -3219.45)
  line L3 (-1206.5, -3219.45) -> (-1206.5, -3587.75)
  line L4 (-38.1, -3625.85) -> (-1244.6, -3625.85) projected
  line L5 (-1244.6, -3625.85) -> (-1244.6, -3994.15) projected
  line L6 (-1206.5, -3625.85) -> (-1244.6, -3625.85)
  line L7 (-1244.6, -3625.85) -> (-1244.6, -3994.15)
  line L8 (-1244.6, -3994.15) -> (-1206.5, -3994.15)
  line L9 (-1206.5, -3994.15) -> (-1206.5, -3625.85)
  line L10 (-1206.5, -4032.25) -> (-1244.6, -4032.25)
  line L11 (-1244.6, -4032.25) -> (-1244.6, -4400.55)
  line L12 (-1244.6, -4400.55) -> (-1206.5, -4400.55)
  line L13 (-1206.5, -4400.55) -> (-1206.5, -4032.25)
  line L14 (-1244.6, -3295.65) -> (-1244.6, -3587.75) projected
  line L15 (-38.1, -3219.45) -> (-3860.8, -3219.45) projected
  line L16 (-1244.6, -3219.45) -> (-1206.5, -3219.45)
  line L17 (-3860.8, -4400.55) -> (-38.1, -4400.55) projected
  line L18 (-38.1, -4032.25) -> (-1244.6, -4032.25) projected
  line L19 (-1244.6, -3295.65) -> (-3860.8, -3295.65)
  line L20 (-3860.8, -3295.65) -> (-3860.8, -3219.45)
  line L21 (-3860.8, -3219.45) -> (-1244.6, -3219.45)
  line L22 (-1244.6, -3219.45) -> (-1244.6, -3295.65)
  line L23 (-1244.6, -4324.35) -> (-3860.8, -4324.35) projected
  line L24 (-1244.6, -4400.55) -> (-3860.8, -4400.55)
  line L25 (-3860.8, -4400.55) -> (-3860.8, -4324.35)
  line L26 (-3860.8, -4324.35) -> (-1244.6, -4324.35)
  line L27 (-1244.6, -4324.35) -> (-1244.6, -4400.55)
  point P0 (0, 0)
  dimension "d46" = 38.1
extrude "Extrusion8" add sketch "Sketch8" against normal blind 190.5
properties part number "Basement_And_First_Floor_Joists_And_Subfloor" material "Wood (Southern Pine)"
